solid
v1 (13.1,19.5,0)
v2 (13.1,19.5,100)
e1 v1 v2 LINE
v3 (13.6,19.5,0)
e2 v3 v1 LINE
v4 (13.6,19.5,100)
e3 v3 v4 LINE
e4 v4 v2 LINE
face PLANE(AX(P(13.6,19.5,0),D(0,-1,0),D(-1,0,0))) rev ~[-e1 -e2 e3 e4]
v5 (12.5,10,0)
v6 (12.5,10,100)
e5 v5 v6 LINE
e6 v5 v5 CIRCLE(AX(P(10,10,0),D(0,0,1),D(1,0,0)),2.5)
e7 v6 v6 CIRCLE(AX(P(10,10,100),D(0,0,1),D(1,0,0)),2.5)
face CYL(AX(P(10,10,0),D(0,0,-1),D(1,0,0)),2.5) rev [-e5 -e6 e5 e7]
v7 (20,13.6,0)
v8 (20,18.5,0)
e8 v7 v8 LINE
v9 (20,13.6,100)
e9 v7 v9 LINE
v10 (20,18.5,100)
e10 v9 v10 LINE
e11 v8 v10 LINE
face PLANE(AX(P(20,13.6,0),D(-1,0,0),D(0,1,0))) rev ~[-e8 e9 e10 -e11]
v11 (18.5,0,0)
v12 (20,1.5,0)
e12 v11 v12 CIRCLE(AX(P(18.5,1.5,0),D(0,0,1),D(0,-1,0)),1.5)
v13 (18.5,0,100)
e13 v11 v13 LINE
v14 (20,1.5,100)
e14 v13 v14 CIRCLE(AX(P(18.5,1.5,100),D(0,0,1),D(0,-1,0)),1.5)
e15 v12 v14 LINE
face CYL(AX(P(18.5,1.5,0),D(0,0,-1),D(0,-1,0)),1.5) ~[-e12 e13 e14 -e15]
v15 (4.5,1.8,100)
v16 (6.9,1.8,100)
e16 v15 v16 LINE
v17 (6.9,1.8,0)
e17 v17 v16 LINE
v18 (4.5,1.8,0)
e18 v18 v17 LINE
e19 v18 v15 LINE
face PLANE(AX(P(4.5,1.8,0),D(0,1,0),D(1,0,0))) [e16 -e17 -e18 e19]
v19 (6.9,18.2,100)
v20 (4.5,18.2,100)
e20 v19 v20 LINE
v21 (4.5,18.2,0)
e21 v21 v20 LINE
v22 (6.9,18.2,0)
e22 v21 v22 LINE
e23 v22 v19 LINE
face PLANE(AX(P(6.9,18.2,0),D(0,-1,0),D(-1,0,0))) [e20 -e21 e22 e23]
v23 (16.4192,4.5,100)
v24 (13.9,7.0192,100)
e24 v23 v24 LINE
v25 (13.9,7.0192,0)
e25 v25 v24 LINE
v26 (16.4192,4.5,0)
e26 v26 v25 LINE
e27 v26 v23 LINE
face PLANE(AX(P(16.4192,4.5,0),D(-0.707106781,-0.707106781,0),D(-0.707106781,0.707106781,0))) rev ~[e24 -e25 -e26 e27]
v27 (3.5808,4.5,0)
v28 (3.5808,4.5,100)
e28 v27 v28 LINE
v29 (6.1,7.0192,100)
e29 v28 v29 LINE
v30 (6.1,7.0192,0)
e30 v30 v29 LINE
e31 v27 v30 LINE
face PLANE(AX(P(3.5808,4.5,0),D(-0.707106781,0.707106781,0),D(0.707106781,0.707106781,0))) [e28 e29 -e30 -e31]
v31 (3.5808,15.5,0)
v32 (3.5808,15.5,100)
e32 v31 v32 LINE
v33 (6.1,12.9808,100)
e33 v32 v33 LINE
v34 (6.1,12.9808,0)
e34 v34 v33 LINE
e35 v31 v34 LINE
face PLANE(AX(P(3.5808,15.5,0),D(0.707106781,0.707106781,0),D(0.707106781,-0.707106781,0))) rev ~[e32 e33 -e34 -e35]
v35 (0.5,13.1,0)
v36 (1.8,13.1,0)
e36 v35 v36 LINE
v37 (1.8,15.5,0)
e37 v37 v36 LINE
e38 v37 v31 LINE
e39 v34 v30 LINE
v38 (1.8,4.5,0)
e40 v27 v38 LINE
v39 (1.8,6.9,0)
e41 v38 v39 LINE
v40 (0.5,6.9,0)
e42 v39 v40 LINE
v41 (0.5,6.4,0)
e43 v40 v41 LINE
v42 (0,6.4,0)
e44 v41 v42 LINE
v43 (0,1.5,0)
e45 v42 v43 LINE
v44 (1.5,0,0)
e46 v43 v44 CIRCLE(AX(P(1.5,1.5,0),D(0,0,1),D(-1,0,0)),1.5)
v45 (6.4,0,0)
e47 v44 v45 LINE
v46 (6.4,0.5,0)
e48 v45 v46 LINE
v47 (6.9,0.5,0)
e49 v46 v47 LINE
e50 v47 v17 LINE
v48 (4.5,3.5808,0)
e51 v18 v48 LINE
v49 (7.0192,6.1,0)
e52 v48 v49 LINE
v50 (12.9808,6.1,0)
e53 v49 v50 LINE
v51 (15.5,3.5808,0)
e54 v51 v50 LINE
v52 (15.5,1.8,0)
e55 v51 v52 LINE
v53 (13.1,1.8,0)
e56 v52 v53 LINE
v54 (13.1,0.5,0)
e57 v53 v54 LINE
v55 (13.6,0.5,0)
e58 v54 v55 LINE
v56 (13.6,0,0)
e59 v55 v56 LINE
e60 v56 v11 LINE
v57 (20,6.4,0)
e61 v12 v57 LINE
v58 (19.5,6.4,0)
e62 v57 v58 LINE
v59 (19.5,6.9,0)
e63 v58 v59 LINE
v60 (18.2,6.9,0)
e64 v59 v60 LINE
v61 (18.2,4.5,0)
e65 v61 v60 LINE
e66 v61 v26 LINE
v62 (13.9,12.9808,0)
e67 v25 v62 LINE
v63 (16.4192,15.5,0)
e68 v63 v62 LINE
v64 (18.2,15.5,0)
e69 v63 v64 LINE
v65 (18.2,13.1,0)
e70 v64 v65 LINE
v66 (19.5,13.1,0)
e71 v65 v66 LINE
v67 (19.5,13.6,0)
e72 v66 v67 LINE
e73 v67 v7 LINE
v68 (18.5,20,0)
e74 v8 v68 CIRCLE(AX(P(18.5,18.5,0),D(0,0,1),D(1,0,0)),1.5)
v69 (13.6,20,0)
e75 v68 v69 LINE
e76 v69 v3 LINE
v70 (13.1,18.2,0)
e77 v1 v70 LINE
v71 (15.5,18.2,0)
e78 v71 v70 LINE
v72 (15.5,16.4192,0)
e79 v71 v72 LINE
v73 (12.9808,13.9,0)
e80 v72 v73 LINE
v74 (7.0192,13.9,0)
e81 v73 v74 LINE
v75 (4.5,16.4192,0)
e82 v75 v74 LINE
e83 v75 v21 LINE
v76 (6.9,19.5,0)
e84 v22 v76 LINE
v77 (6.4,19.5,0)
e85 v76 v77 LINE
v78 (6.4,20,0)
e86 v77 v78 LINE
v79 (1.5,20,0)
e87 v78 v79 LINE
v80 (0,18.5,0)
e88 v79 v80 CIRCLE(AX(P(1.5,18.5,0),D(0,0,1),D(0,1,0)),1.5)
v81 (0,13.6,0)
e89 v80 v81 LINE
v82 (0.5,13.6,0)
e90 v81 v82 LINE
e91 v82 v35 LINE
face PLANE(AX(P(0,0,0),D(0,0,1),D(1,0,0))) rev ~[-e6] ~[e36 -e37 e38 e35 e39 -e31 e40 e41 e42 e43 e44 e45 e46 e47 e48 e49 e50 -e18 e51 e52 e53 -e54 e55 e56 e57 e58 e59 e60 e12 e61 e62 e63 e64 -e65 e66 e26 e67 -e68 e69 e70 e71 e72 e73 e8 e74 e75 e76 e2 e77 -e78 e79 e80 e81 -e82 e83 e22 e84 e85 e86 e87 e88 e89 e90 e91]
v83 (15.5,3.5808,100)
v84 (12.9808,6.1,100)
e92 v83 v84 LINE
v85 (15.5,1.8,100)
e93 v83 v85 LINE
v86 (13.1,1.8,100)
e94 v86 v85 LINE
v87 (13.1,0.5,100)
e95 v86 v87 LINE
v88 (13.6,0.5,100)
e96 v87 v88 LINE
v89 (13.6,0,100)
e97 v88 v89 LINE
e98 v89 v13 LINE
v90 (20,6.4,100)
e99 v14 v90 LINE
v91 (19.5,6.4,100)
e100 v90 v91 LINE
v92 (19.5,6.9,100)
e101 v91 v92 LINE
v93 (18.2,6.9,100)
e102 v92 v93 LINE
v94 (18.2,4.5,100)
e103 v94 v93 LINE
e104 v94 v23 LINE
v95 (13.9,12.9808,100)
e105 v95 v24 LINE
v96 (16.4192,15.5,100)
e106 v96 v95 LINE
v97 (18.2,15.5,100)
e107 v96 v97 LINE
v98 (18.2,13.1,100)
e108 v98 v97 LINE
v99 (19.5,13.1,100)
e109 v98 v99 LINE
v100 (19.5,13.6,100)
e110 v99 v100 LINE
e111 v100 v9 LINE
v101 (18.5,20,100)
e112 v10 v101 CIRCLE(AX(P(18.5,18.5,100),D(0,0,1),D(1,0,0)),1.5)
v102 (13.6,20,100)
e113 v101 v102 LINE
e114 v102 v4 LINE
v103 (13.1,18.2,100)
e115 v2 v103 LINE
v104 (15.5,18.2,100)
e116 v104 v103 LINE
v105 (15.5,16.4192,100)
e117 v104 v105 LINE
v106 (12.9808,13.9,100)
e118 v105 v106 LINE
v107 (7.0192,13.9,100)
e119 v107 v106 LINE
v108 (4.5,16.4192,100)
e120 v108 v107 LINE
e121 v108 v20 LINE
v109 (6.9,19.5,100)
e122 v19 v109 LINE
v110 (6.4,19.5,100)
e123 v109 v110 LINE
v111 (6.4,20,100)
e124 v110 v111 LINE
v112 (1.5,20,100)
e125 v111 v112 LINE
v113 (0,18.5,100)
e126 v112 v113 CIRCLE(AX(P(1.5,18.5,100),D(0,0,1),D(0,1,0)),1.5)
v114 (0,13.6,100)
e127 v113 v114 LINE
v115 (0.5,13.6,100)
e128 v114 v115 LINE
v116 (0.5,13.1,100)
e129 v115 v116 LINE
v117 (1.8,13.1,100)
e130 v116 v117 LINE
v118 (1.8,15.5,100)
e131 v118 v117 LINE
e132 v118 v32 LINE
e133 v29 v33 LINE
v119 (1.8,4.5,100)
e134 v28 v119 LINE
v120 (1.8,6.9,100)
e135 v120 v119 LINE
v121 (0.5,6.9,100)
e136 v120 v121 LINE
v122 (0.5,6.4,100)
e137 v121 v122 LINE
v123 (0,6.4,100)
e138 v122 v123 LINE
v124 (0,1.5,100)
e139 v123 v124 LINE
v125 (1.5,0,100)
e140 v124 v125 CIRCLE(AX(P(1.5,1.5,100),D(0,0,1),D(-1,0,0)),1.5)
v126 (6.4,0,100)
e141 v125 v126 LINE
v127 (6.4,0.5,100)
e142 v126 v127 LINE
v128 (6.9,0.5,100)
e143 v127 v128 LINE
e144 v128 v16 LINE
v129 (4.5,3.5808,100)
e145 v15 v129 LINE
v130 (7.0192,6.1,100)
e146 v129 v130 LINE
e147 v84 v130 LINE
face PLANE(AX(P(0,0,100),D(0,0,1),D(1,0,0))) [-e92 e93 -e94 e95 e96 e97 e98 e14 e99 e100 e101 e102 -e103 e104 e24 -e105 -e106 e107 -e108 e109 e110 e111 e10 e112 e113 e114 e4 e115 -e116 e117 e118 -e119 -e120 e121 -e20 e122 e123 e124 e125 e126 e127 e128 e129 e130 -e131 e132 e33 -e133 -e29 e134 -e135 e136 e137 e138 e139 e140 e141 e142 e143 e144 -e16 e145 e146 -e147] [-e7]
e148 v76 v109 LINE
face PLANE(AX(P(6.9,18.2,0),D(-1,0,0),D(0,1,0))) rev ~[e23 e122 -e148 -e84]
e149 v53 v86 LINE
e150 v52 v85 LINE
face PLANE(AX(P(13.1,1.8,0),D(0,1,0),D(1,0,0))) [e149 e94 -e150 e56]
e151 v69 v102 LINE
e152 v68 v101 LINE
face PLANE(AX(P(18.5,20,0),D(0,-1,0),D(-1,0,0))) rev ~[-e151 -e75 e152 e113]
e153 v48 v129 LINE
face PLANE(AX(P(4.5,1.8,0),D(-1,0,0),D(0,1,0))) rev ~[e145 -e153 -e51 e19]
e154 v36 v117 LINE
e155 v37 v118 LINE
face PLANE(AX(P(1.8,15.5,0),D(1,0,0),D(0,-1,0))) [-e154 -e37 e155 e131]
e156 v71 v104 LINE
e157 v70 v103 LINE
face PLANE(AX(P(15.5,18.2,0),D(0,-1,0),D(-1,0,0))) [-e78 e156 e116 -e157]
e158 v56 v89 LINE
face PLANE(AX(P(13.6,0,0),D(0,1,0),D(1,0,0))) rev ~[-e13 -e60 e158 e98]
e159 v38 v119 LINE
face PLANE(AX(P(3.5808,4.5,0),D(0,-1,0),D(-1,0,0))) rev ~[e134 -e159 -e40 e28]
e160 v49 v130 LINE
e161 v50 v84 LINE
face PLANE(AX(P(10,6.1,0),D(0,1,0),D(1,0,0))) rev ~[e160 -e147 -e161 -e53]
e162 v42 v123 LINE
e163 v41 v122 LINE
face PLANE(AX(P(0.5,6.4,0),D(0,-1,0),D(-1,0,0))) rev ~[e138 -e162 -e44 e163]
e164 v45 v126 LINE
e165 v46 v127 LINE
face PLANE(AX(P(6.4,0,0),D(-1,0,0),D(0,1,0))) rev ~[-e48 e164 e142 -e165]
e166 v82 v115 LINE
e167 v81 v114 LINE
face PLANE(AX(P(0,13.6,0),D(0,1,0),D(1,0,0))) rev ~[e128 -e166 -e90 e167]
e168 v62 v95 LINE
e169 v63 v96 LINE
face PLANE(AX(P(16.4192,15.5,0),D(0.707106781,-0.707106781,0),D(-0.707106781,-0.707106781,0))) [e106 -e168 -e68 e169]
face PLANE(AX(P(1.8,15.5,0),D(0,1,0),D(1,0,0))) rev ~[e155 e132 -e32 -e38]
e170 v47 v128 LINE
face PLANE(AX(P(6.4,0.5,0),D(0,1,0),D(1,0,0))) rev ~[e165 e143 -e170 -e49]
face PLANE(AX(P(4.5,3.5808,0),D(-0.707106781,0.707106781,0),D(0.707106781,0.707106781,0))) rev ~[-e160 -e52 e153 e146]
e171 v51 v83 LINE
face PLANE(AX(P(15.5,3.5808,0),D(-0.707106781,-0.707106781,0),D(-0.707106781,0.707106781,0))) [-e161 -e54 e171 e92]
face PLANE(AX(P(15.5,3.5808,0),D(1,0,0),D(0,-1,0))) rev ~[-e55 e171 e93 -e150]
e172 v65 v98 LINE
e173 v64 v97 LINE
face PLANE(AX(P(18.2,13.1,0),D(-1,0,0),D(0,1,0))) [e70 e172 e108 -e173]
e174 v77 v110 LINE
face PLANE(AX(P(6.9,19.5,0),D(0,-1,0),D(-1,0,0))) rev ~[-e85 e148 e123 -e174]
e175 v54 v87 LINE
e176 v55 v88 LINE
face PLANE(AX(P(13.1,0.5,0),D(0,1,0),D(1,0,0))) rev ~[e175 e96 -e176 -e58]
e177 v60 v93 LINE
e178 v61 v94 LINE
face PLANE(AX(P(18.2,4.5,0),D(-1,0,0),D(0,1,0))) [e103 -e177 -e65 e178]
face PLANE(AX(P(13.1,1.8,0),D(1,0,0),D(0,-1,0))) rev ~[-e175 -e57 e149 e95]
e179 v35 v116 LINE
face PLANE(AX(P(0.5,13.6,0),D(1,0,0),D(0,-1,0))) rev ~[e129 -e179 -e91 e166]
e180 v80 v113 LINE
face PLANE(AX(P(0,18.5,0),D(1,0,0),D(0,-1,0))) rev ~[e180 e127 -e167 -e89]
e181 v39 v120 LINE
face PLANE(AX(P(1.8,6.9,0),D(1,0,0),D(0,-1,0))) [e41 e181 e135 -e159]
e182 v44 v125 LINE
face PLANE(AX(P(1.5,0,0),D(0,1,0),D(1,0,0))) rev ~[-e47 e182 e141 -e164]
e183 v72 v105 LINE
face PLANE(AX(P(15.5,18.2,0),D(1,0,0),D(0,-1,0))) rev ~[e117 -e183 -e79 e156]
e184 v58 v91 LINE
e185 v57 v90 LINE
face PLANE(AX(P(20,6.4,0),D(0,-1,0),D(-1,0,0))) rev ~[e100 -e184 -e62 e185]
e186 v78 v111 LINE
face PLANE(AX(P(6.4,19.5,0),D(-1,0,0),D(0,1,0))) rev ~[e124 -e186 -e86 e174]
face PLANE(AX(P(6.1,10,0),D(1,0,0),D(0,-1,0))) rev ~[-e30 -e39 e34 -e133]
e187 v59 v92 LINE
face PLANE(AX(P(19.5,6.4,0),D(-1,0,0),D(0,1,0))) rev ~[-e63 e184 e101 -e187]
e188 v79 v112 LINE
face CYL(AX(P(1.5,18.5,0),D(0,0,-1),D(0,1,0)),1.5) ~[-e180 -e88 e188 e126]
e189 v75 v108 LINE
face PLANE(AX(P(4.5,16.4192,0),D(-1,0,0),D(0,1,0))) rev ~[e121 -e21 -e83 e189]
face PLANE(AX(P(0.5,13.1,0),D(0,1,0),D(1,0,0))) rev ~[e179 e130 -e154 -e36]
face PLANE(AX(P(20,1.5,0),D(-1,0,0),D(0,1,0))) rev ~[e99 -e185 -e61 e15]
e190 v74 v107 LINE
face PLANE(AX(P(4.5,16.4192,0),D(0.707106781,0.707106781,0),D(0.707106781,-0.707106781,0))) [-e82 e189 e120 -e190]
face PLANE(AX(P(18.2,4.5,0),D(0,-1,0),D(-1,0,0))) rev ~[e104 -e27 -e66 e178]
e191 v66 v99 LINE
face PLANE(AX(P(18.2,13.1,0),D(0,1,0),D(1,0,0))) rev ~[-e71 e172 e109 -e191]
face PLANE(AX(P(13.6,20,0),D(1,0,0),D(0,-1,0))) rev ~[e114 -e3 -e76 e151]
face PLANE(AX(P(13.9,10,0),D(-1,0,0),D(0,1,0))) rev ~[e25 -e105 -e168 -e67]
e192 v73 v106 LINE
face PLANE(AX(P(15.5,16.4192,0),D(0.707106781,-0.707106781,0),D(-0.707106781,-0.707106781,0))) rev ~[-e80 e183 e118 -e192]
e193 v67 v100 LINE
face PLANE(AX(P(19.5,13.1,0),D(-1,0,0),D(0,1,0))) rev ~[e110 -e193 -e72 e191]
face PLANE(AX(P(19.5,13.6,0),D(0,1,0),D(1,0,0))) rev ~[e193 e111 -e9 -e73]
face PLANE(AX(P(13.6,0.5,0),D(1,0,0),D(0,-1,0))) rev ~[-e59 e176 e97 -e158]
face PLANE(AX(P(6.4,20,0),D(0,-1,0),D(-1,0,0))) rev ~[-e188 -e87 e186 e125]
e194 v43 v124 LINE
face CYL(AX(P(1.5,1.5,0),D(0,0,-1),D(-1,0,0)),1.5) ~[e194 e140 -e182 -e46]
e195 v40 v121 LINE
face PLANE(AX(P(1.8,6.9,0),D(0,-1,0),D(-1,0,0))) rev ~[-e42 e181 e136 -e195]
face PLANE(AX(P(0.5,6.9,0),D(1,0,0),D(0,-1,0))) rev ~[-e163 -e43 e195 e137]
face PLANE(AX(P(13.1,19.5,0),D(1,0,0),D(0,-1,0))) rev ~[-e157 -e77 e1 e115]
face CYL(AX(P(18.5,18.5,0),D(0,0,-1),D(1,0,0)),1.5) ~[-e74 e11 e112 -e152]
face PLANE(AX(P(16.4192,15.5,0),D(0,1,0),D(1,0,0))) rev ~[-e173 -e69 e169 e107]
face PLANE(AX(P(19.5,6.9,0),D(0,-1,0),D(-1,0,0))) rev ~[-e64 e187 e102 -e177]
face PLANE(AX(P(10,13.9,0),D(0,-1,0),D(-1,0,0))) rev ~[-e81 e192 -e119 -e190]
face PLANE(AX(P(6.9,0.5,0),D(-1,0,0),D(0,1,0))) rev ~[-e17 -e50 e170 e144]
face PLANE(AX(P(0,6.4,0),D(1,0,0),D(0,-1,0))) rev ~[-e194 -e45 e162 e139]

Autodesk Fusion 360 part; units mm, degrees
sketch "Sketch1" plane through (0, 0, 0) normal (0, 0, 1) x (1, 0, 0)
  circle A0 centre (10, 10) radius 2.5
  line L0 (13.9, 6.1) -> (6.1, 13.9) construction
  line L1 (0, 6.4) -> (0, 1.5)
  line L2 (4.5, 1.8) -> (6.9, 1.8)
  line L3 (3.5808, 4.5) -> (6.1, 7.0192)
  line L4 (4.5, 3.5808) -> (7.0192, 6.1)
  line L5 (0.5, 6.9) -> (0.5, 6.4)
  line L6 (0.5, 6.4) -> (0, 6.4)
  line L7 (6.9, 0) -> (6.4, 0) construction
  line L8 (6.4, 0) -> (6.4, 0.5)
  line L9 (6.4, 0.5) -> (6.9, 0.5)
  arc A1 (0, 1.5) -> (1.5, 0) centre (1.5, 1.5) ccw
  line L10 (1.8, 6.9) -> (0.5, 6.9)
  line L11 (1.8, 6.9) -> (1.8, 6.4)
  line L12 (1.8, 6.4) -> (1.8, 4.5)
  line L13 (3.5808, 4.5) -> (1.8, 4.5)
  line L14 (6.1, 10) -> (6.1, 7.0192)
  line L15 (7.0192, 6.1) -> (10, 6.1)
  line L16 (4.5, 1.8) -> (4.5, 3.5808)
  line L17 (6.9, 0.5) -> (6.9, 1.8)
  line L18 (1.5, 0) -> (6.4, 0)
  line L19 (6.4, 0) -> (6.9, 0)
  line L20 (0, 6.9) -> (0, 6.4)
  line L21 (10, 13.9) -> (10, 6.1) construction
  line L22 (13.9, 10) -> (6.1, 10) construction
  line L23 (20, 6.4) -> (19.5, 6.4)
  line L24 (19.5, 6.4) -> (19.5, 6.9)
  line L25 (19.5, 6.9) -> (18.2, 6.9)
  line L26 (18.2, 4.5) -> (18.2, 6.9)
  line L27 (18.2, 4.5) -> (16.4192, 4.5)
  line L28 (16.4192, 4.5) -> (13.9, 7.0192)
  line L29 (13.9, 7.0192) -> (13.9, 10)
  line L30 (15.5, 3.5808) -> (12.9808, 6.1)
  line L31 (15.5, 3.5808) -> (15.5, 1.8)
  line L32 (13.6, 1.8) -> (15.5, 1.8)
  line L33 (13.1, 1.8) -> (13.6, 1.8)
  line L34 (13.1, 1.8) -> (13.1, 0.5)
  line L35 (13.1, 0.5) -> (13.6, 0.5)
  line L36 (13.6, 0.5) -> (13.6, 0)
  line L37 (10, 6.1) -> (12.9808, 6.1)
  line L38 (13.6, 0) -> (18.5, 0)
  arc A2 (18.5, 0) -> (20, 1.5) centre (18.5, 1.5) ccw
  line L39 (20, 1.5) -> (20, 6.4)
  line L40 (13.6, 20) -> (13.6, 19.5)
  line L41 (13.6, 19.5) -> (13.1, 19.5)
  line L42 (13.1, 19.5) -> (13.1, 18.2)
  line L43 (15.5, 18.2) -> (13.1, 18.2)
  line L44 (15.5, 18.2) -> (15.5, 16.4192)
  line L45 (15.5, 16.4192) -> (12.9808, 13.9)
  line L46 (12.9808, 13.9) -> (10, 13.9)
  line L47 (16.4192, 15.5) -> (13.9, 12.9808)
  line L48 (16.4192, 15.5) -> (18.2, 15.5)
  line L49 (18.2, 13.6) -> (18.2, 15.5)
  line L50 (18.2, 13.1) -> (18.2, 13.6)
  line L51 (18.2, 13.1) -> (19.5, 13.1)
  line L52 (19.5, 13.1) -> (19.5, 13.6)
  line L53 (19.5, 13.6) -> (20, 13.6)
  line L54 (13.9, 10) -> (13.9, 12.9808)
  line L55 (20, 13.6) -> (20, 18.5)
  arc A3 (20, 18.5) -> (18.5, 20) centre (18.5, 18.5) ccw
  line L56 (18.5, 20) -> (13.6, 20)
  line L57 (0, 13.6) -> (0.5, 13.6)
  line L58 (0.5, 13.6) -> (0.5, 13.1)
  line L59 (0.5, 13.1) -> (1.8, 13.1)
  line L60 (1.8, 15.5) -> (1.8, 13.1)
  line L61 (1.8, 15.5) -> (3.5808, 15.5)
  line L62 (3.5808, 15.5) -> (6.1, 12.9808)
  line L63 (6.1, 12.9808) -> (6.1, 10)
  line L64 (4.5, 16.4192) -> (7.0192, 13.9)
  line L65 (4.5, 16.4192) -> (4.5, 18.2)
  line L66 (6.4, 18.2) -> (4.5, 18.2)
  line L67 (6.9, 18.2) -> (6.4, 18.2)
  line L68 (6.9, 18.2) -> (6.9, 19.5)
  line L69 (6.9, 19.5) -> (6.4, 19.5)
  line L70 (6.4, 19.5) -> (6.4, 20)
  line L71 (10, 13.9) -> (7.0192, 13.9)
  line L72 (6.4, 20) -> (1.5, 20)
  arc A4 (1.5, 20) -> (0, 18.5) centre (1.5, 18.5) ccw
  line L73 (0, 18.5) -> (0, 13.6)
  arc A5 (26, 1.5) -> (27.5, 0) centre (27.5, 1.5) ccw
  line L74 (41.5, 3.5808) -> (41.5, 1.8)
  line L75 (39.1, 19.5) -> (39.1, 18.2)
  line L76 (32.4, 20) -> (27.5, 20)
  line L77 (26, 6.9) -> (26, 6.4)
  line L78 (29.5808, 4.5) -> (32.1, 7.0192)
  line L79 (29.5808, 15.5) -> (32.1, 12.9808)
  line L80 (26, 13.6) -> (26.5, 13.6)
  line L81 (39.1, 0.5) -> (39.6, 0.5)
  line L82 (30.5, 16.4192) -> (30.5, 18.2)
  line L83 (27.8, 15.5) -> (27.8, 13.1)
  line L84 (36, 13.9) -> (36, 6.1) construction
  line L85 (32.4, 0) -> (32.4, 0.5)
  line L86 (39.6, 0.5) -> (39.6, 0)
  line L87 (32.1, 10) -> (32.1, 7.0192)
  line L88 (32.4, 19.5) -> (32.4, 20)
  line L89 (39.1, 1.8) -> (39.6, 1.8)
  line L90 (27.8, 6.9) -> (27.8, 6.4)
  line L91 (41.5, 16.4192) -> (38.9808, 13.9)
  line L92 (26.5, 13.1) -> (27.8, 13.1)
  line L93 (26.5, 6.4) -> (26, 6.4)
  line L94 (32.1, 12.9808) -> (32.1, 10)
  line L95 (27.5, 0) -> (32.4, 0)
  line L96 (32.9, 0.5) -> (32.9, 1.8)
  line L97 (32.9, 0) -> (32.4, 0) construction
  line L98 (30.5, 1.8) -> (30.5, 3.5808)
  line L99 (32.9, 19.5) -> (32.4, 19.5)
  line L100 (32.9, 18.2) -> (32.4, 18.2)
  line L101 (41.5, 18.2) -> (39.1, 18.2)
  line L102 (39.6, 19.5) -> (39.1, 19.5)
  line L103 (27.8, 6.9) -> (26.5, 6.9)
  line L104 (27.8, 15.5) -> (29.5808, 15.5)
  line L105 (36, 13.9) -> (33.0192, 13.9)
  line L106 (33.0192, 6.1) -> (36, 6.1)
  line L107 (41.5, 18.2) -> (41.5, 16.4192)
  line L108 (39.9, 10) -> (32.1, 10) construction
  line L109 (39.6, 1.8) -> (41.5, 1.8)
  line L110 (39.9, 6.1) -> (32.1, 13.9) construction
  line L111 (39.6, 0) -> (44.5, 0)
  line L112 (36, 6.1) -> (38.9808, 6.1)
  circle A6 centre (36, 10) radius 2.5
  line L113 (42.4192, 4.5) -> (39.9, 7.0192)
  line L114 (38.9808, 13.9) -> (36, 13.9)
  line L115 (41.5, 3.5808) -> (38.9808, 6.1)
  line L116 (39.9, 7.0192) -> (39.9, 10)
  line L117 (39.9, 10) -> (39.9, 12.9808)
  line L118 (30.5, 16.4192) -> (33.0192, 13.9)
  line L119 (42.4192, 15.5) -> (39.9, 12.9808)
  line L120 (26, 18.5) -> (26, 13.6)
  line L121 (39.6, 20) -> (39.6, 19.5)
  line L122 (32.4, 18.2) -> (30.5, 18.2)
  line L123 (26.5, 6.9) -> (26.5, 6.4)
  line L124 (39.1, 1.8) -> (39.1, 0.5)
  arc A7 (27.5, 20) -> (26, 18.5) centre (27.5, 18.5) ccw
  line L125 (44.5, 20) -> (39.6, 20)
  line L126 (26, 6.4) -> (26, 1.5)
  line L127 (30.5, 3.5808) -> (33.0192, 6.1)
  line L128 (32.4, 0) -> (32.9, 0)
  line L129 (32.4, 0.5) -> (32.9, 0.5)
  line L130 (29.5808, 4.5) -> (27.8, 4.5)
  line L131 (27.8, 6.4) -> (27.8, 4.5)
  line L132 (30.5, 1.8) -> (32.9, 1.8)
  line L133 (26.5, 13.6) -> (26.5, 13.1)
  line L134 (32.9, 18.2) -> (32.9, 19.5)
  line L135 (59.9, 6.1) -> (52.1, 13.9) construction
  circle A8 centre (56, 10) radius 2.5
  line L136 (56, 13.9) -> (56, 6.1) construction
  line L137 (66, 13.6) -> (66, 18.5)
  line L138 (61.5, 16.4192) -> (58.9808, 13.9)
  line L139 (59.9, 10) -> (59.9, 12.9808)
  line L140 (64.2, 13.1) -> (65.5, 13.1)
  line L141 (59.6, 20) -> (59.6, 19.5)
  line L142 (52.1, 12.9808) -> (52.1, 10)
  line L143 (59.1, 19.5) -> (59.1, 18.2)
  line L144 (64.2, 13.1) -> (64.2, 13.6)
  line L145 (64.2, 13.6) -> (64.2, 15.5)
  line L146 (59.9, 10) -> (52.1, 10) construction
  line L147 (65.5, 13.1) -> (65.5, 13.6)
  line L148 (64.5, 20) -> (59.6, 20)
  line L149 (49.5808, 15.5) -> (52.1, 12.9808)
  line L150 (52.4, 19.5) -> (52.4, 20)
  line L151 (62.4192, 15.5) -> (64.2, 15.5)
  line L152 (59.1, 0.5) -> (59.6, 0.5)
  line L153 (65.5, 13.6) -> (66, 13.6)
  line L154 (50.5, 16.4192) -> (53.0192, 13.9)
  line L155 (61.5, 18.2) -> (61.5, 16.4192)
  line L156 (53.0192, 6.1) -> (56, 6.1)
  line L157 (50.5, 16.4192) -> (50.5, 18.2)
  line L158 (52.4, 0.5) -> (52.9, 0.5)
  line L159 (59.1, 1.8) -> (59.6, 1.8)
  line L160 (49.5808, 4.5) -> (52.1, 7.0192)
  line L161 (50.5, 1.8) -> (50.5, 3.5808)
  line L162 (61.5, 3.5808) -> (61.5, 1.8)
  line L163 (56, 13.9) -> (53.0192, 13.9)
  line L164 (52.4, 0) -> (52.4, 0.5)
  line L165 (50.5, 3.5808) -> (53.0192, 6.1)
  line L166 (66, 1.5) -> (66, 6.4)
  line L167 (59.6, 1.8) -> (61.5, 1.8)
  arc A9 (66, 18.5) -> (64.5, 20) centre (64.5, 18.5) ccw
  line L168 (52.1, 10) -> (52.1, 7.0192)
  line L169 (64.2, 4.5) -> (62.4192, 4.5)
  line L170 (59.6, 19.5) -> (59.1, 19.5)
  line L171 (61.5, 18.2) -> (59.1, 18.2)
  line L172 (61.5, 3.5808) -> (58.9808, 6.1)
  line L173 (52.9, 0) -> (52.4, 0) construction
  line L174 (59.9, 7.0192) -> (59.9, 10)
  line L175 (52.4, 18.2) -> (50.5, 18.2)
  line L176 (59.6, 0.5) -> (59.6, 0)
  line L177 (52.9, 18.2) -> (52.4, 18.2)
  line L178 (66, 6.4) -> (65.5, 6.4)
  line L179 (56, 6.1) -> (58.9808, 6.1)
  line L180 (52.9, 18.2) -> (52.9, 19.5)
  line L181 (59.6, 0) -> (64.5, 0)
  line L182 (62.4192, 4.5) -> (59.9, 7.0192)
  arc A10 (64.5, 0) -> (66, 1.5) centre (64.5, 1.5) ccw
  line L183 (50.5, 1.8) -> (52.9, 1.8)
  line L184 (52.4, 20) -> (47.5, 20)
  line L185 (64.2, 4.5) -> (64.2, 6.9)
  line L186 (65.5, 6.4) -> (65.5, 6.9)
  line L187 (52.4, 0) -> (52.9, 0)
  line L188 (52.9, 19.5) -> (52.4, 19.5)
  line L189 (65.5, 6.9) -> (64.2, 6.9)
  line L190 (59.1, 1.8) -> (59.1, 0.5)
  line L191 (47.5, 0) -> (52.4, 0)
  line L192 (58.9808, 13.9) -> (56, 13.9)
  line L193 (62.4192, 15.5) -> (59.9, 12.9808)
  line L194 (52.9, 0.5) -> (52.9, 1.8)
  line L195 (44.5, 20) -> (47.5, 20)
  line L196 (44.5, 0) -> (47.5, 0)
  line L197 (41.5, 18.2) -> (42.8, 18.2) construction
  line L198 (42.8, 18.2) -> (49.2, 18.2)
  line L199 (49.2, 1.8) -> (42.8, 1.8)
  line L200 (42.4192, 15.5) -> (42.8, 15.8808)
  line L201 (49.5808, 15.5) -> (49.2, 15.8808)
  line L202 (49.5808, 4.5) -> (49.2, 4.1192)
  line L203 (42.4192, 4.5) -> (42.8, 4.1192)
  line L204 (42.8, 15.8808) -> (42.8, 18.2)
  line L205 (49.2, 18.2) -> (49.2, 15.8808)
  line L206 (49.2, 4.1192) -> (49.2, 1.8)
  line L207 (42.8, 1.8) -> (42.8, 4.1192)
  point P0 (10, 10)
  point P1 (36, 10)
  point P2 (56, 10)
  dimension "d3" = 5
  dimension "d6" = 6.9
  dimension "d7" = 6.9
  dimension "d14" = 6.4
  dimension "d22" = 0.5
  dimension "d23" = 0.5
  dimension "d24" = 0.5
  dimension "d25" = 0.5
  dimension "d26" = 1.5
  dimension "d28" = 360
  dimension "d30" = 360
  dimension "d31" = 5
  dimension "d32" = 0.5
  dimension "d33" = 0.5
  dimension "d34" = 0.5
  dimension "d35" = 0.5
  dimension "d36" = 1.5
  dimension "d39" = 5
  dimension "d42" = 0.5
  dimension "d43" = 0.5
  dimension "d45" = 1.3
  dimension "d47" = 6.4
extrude "Extrude1" add sketch "Sketch1" along normal blind 100 makes body 1 at (12.4876, 9.7511, 33.3333) makes body 2 at (38.4876, 9.7511, 33.3333)
hidden bodies 2
equation "d7 = 10 mm - 3.1 mm"
equation "d14 = 10 mm - 3.6 mm"
